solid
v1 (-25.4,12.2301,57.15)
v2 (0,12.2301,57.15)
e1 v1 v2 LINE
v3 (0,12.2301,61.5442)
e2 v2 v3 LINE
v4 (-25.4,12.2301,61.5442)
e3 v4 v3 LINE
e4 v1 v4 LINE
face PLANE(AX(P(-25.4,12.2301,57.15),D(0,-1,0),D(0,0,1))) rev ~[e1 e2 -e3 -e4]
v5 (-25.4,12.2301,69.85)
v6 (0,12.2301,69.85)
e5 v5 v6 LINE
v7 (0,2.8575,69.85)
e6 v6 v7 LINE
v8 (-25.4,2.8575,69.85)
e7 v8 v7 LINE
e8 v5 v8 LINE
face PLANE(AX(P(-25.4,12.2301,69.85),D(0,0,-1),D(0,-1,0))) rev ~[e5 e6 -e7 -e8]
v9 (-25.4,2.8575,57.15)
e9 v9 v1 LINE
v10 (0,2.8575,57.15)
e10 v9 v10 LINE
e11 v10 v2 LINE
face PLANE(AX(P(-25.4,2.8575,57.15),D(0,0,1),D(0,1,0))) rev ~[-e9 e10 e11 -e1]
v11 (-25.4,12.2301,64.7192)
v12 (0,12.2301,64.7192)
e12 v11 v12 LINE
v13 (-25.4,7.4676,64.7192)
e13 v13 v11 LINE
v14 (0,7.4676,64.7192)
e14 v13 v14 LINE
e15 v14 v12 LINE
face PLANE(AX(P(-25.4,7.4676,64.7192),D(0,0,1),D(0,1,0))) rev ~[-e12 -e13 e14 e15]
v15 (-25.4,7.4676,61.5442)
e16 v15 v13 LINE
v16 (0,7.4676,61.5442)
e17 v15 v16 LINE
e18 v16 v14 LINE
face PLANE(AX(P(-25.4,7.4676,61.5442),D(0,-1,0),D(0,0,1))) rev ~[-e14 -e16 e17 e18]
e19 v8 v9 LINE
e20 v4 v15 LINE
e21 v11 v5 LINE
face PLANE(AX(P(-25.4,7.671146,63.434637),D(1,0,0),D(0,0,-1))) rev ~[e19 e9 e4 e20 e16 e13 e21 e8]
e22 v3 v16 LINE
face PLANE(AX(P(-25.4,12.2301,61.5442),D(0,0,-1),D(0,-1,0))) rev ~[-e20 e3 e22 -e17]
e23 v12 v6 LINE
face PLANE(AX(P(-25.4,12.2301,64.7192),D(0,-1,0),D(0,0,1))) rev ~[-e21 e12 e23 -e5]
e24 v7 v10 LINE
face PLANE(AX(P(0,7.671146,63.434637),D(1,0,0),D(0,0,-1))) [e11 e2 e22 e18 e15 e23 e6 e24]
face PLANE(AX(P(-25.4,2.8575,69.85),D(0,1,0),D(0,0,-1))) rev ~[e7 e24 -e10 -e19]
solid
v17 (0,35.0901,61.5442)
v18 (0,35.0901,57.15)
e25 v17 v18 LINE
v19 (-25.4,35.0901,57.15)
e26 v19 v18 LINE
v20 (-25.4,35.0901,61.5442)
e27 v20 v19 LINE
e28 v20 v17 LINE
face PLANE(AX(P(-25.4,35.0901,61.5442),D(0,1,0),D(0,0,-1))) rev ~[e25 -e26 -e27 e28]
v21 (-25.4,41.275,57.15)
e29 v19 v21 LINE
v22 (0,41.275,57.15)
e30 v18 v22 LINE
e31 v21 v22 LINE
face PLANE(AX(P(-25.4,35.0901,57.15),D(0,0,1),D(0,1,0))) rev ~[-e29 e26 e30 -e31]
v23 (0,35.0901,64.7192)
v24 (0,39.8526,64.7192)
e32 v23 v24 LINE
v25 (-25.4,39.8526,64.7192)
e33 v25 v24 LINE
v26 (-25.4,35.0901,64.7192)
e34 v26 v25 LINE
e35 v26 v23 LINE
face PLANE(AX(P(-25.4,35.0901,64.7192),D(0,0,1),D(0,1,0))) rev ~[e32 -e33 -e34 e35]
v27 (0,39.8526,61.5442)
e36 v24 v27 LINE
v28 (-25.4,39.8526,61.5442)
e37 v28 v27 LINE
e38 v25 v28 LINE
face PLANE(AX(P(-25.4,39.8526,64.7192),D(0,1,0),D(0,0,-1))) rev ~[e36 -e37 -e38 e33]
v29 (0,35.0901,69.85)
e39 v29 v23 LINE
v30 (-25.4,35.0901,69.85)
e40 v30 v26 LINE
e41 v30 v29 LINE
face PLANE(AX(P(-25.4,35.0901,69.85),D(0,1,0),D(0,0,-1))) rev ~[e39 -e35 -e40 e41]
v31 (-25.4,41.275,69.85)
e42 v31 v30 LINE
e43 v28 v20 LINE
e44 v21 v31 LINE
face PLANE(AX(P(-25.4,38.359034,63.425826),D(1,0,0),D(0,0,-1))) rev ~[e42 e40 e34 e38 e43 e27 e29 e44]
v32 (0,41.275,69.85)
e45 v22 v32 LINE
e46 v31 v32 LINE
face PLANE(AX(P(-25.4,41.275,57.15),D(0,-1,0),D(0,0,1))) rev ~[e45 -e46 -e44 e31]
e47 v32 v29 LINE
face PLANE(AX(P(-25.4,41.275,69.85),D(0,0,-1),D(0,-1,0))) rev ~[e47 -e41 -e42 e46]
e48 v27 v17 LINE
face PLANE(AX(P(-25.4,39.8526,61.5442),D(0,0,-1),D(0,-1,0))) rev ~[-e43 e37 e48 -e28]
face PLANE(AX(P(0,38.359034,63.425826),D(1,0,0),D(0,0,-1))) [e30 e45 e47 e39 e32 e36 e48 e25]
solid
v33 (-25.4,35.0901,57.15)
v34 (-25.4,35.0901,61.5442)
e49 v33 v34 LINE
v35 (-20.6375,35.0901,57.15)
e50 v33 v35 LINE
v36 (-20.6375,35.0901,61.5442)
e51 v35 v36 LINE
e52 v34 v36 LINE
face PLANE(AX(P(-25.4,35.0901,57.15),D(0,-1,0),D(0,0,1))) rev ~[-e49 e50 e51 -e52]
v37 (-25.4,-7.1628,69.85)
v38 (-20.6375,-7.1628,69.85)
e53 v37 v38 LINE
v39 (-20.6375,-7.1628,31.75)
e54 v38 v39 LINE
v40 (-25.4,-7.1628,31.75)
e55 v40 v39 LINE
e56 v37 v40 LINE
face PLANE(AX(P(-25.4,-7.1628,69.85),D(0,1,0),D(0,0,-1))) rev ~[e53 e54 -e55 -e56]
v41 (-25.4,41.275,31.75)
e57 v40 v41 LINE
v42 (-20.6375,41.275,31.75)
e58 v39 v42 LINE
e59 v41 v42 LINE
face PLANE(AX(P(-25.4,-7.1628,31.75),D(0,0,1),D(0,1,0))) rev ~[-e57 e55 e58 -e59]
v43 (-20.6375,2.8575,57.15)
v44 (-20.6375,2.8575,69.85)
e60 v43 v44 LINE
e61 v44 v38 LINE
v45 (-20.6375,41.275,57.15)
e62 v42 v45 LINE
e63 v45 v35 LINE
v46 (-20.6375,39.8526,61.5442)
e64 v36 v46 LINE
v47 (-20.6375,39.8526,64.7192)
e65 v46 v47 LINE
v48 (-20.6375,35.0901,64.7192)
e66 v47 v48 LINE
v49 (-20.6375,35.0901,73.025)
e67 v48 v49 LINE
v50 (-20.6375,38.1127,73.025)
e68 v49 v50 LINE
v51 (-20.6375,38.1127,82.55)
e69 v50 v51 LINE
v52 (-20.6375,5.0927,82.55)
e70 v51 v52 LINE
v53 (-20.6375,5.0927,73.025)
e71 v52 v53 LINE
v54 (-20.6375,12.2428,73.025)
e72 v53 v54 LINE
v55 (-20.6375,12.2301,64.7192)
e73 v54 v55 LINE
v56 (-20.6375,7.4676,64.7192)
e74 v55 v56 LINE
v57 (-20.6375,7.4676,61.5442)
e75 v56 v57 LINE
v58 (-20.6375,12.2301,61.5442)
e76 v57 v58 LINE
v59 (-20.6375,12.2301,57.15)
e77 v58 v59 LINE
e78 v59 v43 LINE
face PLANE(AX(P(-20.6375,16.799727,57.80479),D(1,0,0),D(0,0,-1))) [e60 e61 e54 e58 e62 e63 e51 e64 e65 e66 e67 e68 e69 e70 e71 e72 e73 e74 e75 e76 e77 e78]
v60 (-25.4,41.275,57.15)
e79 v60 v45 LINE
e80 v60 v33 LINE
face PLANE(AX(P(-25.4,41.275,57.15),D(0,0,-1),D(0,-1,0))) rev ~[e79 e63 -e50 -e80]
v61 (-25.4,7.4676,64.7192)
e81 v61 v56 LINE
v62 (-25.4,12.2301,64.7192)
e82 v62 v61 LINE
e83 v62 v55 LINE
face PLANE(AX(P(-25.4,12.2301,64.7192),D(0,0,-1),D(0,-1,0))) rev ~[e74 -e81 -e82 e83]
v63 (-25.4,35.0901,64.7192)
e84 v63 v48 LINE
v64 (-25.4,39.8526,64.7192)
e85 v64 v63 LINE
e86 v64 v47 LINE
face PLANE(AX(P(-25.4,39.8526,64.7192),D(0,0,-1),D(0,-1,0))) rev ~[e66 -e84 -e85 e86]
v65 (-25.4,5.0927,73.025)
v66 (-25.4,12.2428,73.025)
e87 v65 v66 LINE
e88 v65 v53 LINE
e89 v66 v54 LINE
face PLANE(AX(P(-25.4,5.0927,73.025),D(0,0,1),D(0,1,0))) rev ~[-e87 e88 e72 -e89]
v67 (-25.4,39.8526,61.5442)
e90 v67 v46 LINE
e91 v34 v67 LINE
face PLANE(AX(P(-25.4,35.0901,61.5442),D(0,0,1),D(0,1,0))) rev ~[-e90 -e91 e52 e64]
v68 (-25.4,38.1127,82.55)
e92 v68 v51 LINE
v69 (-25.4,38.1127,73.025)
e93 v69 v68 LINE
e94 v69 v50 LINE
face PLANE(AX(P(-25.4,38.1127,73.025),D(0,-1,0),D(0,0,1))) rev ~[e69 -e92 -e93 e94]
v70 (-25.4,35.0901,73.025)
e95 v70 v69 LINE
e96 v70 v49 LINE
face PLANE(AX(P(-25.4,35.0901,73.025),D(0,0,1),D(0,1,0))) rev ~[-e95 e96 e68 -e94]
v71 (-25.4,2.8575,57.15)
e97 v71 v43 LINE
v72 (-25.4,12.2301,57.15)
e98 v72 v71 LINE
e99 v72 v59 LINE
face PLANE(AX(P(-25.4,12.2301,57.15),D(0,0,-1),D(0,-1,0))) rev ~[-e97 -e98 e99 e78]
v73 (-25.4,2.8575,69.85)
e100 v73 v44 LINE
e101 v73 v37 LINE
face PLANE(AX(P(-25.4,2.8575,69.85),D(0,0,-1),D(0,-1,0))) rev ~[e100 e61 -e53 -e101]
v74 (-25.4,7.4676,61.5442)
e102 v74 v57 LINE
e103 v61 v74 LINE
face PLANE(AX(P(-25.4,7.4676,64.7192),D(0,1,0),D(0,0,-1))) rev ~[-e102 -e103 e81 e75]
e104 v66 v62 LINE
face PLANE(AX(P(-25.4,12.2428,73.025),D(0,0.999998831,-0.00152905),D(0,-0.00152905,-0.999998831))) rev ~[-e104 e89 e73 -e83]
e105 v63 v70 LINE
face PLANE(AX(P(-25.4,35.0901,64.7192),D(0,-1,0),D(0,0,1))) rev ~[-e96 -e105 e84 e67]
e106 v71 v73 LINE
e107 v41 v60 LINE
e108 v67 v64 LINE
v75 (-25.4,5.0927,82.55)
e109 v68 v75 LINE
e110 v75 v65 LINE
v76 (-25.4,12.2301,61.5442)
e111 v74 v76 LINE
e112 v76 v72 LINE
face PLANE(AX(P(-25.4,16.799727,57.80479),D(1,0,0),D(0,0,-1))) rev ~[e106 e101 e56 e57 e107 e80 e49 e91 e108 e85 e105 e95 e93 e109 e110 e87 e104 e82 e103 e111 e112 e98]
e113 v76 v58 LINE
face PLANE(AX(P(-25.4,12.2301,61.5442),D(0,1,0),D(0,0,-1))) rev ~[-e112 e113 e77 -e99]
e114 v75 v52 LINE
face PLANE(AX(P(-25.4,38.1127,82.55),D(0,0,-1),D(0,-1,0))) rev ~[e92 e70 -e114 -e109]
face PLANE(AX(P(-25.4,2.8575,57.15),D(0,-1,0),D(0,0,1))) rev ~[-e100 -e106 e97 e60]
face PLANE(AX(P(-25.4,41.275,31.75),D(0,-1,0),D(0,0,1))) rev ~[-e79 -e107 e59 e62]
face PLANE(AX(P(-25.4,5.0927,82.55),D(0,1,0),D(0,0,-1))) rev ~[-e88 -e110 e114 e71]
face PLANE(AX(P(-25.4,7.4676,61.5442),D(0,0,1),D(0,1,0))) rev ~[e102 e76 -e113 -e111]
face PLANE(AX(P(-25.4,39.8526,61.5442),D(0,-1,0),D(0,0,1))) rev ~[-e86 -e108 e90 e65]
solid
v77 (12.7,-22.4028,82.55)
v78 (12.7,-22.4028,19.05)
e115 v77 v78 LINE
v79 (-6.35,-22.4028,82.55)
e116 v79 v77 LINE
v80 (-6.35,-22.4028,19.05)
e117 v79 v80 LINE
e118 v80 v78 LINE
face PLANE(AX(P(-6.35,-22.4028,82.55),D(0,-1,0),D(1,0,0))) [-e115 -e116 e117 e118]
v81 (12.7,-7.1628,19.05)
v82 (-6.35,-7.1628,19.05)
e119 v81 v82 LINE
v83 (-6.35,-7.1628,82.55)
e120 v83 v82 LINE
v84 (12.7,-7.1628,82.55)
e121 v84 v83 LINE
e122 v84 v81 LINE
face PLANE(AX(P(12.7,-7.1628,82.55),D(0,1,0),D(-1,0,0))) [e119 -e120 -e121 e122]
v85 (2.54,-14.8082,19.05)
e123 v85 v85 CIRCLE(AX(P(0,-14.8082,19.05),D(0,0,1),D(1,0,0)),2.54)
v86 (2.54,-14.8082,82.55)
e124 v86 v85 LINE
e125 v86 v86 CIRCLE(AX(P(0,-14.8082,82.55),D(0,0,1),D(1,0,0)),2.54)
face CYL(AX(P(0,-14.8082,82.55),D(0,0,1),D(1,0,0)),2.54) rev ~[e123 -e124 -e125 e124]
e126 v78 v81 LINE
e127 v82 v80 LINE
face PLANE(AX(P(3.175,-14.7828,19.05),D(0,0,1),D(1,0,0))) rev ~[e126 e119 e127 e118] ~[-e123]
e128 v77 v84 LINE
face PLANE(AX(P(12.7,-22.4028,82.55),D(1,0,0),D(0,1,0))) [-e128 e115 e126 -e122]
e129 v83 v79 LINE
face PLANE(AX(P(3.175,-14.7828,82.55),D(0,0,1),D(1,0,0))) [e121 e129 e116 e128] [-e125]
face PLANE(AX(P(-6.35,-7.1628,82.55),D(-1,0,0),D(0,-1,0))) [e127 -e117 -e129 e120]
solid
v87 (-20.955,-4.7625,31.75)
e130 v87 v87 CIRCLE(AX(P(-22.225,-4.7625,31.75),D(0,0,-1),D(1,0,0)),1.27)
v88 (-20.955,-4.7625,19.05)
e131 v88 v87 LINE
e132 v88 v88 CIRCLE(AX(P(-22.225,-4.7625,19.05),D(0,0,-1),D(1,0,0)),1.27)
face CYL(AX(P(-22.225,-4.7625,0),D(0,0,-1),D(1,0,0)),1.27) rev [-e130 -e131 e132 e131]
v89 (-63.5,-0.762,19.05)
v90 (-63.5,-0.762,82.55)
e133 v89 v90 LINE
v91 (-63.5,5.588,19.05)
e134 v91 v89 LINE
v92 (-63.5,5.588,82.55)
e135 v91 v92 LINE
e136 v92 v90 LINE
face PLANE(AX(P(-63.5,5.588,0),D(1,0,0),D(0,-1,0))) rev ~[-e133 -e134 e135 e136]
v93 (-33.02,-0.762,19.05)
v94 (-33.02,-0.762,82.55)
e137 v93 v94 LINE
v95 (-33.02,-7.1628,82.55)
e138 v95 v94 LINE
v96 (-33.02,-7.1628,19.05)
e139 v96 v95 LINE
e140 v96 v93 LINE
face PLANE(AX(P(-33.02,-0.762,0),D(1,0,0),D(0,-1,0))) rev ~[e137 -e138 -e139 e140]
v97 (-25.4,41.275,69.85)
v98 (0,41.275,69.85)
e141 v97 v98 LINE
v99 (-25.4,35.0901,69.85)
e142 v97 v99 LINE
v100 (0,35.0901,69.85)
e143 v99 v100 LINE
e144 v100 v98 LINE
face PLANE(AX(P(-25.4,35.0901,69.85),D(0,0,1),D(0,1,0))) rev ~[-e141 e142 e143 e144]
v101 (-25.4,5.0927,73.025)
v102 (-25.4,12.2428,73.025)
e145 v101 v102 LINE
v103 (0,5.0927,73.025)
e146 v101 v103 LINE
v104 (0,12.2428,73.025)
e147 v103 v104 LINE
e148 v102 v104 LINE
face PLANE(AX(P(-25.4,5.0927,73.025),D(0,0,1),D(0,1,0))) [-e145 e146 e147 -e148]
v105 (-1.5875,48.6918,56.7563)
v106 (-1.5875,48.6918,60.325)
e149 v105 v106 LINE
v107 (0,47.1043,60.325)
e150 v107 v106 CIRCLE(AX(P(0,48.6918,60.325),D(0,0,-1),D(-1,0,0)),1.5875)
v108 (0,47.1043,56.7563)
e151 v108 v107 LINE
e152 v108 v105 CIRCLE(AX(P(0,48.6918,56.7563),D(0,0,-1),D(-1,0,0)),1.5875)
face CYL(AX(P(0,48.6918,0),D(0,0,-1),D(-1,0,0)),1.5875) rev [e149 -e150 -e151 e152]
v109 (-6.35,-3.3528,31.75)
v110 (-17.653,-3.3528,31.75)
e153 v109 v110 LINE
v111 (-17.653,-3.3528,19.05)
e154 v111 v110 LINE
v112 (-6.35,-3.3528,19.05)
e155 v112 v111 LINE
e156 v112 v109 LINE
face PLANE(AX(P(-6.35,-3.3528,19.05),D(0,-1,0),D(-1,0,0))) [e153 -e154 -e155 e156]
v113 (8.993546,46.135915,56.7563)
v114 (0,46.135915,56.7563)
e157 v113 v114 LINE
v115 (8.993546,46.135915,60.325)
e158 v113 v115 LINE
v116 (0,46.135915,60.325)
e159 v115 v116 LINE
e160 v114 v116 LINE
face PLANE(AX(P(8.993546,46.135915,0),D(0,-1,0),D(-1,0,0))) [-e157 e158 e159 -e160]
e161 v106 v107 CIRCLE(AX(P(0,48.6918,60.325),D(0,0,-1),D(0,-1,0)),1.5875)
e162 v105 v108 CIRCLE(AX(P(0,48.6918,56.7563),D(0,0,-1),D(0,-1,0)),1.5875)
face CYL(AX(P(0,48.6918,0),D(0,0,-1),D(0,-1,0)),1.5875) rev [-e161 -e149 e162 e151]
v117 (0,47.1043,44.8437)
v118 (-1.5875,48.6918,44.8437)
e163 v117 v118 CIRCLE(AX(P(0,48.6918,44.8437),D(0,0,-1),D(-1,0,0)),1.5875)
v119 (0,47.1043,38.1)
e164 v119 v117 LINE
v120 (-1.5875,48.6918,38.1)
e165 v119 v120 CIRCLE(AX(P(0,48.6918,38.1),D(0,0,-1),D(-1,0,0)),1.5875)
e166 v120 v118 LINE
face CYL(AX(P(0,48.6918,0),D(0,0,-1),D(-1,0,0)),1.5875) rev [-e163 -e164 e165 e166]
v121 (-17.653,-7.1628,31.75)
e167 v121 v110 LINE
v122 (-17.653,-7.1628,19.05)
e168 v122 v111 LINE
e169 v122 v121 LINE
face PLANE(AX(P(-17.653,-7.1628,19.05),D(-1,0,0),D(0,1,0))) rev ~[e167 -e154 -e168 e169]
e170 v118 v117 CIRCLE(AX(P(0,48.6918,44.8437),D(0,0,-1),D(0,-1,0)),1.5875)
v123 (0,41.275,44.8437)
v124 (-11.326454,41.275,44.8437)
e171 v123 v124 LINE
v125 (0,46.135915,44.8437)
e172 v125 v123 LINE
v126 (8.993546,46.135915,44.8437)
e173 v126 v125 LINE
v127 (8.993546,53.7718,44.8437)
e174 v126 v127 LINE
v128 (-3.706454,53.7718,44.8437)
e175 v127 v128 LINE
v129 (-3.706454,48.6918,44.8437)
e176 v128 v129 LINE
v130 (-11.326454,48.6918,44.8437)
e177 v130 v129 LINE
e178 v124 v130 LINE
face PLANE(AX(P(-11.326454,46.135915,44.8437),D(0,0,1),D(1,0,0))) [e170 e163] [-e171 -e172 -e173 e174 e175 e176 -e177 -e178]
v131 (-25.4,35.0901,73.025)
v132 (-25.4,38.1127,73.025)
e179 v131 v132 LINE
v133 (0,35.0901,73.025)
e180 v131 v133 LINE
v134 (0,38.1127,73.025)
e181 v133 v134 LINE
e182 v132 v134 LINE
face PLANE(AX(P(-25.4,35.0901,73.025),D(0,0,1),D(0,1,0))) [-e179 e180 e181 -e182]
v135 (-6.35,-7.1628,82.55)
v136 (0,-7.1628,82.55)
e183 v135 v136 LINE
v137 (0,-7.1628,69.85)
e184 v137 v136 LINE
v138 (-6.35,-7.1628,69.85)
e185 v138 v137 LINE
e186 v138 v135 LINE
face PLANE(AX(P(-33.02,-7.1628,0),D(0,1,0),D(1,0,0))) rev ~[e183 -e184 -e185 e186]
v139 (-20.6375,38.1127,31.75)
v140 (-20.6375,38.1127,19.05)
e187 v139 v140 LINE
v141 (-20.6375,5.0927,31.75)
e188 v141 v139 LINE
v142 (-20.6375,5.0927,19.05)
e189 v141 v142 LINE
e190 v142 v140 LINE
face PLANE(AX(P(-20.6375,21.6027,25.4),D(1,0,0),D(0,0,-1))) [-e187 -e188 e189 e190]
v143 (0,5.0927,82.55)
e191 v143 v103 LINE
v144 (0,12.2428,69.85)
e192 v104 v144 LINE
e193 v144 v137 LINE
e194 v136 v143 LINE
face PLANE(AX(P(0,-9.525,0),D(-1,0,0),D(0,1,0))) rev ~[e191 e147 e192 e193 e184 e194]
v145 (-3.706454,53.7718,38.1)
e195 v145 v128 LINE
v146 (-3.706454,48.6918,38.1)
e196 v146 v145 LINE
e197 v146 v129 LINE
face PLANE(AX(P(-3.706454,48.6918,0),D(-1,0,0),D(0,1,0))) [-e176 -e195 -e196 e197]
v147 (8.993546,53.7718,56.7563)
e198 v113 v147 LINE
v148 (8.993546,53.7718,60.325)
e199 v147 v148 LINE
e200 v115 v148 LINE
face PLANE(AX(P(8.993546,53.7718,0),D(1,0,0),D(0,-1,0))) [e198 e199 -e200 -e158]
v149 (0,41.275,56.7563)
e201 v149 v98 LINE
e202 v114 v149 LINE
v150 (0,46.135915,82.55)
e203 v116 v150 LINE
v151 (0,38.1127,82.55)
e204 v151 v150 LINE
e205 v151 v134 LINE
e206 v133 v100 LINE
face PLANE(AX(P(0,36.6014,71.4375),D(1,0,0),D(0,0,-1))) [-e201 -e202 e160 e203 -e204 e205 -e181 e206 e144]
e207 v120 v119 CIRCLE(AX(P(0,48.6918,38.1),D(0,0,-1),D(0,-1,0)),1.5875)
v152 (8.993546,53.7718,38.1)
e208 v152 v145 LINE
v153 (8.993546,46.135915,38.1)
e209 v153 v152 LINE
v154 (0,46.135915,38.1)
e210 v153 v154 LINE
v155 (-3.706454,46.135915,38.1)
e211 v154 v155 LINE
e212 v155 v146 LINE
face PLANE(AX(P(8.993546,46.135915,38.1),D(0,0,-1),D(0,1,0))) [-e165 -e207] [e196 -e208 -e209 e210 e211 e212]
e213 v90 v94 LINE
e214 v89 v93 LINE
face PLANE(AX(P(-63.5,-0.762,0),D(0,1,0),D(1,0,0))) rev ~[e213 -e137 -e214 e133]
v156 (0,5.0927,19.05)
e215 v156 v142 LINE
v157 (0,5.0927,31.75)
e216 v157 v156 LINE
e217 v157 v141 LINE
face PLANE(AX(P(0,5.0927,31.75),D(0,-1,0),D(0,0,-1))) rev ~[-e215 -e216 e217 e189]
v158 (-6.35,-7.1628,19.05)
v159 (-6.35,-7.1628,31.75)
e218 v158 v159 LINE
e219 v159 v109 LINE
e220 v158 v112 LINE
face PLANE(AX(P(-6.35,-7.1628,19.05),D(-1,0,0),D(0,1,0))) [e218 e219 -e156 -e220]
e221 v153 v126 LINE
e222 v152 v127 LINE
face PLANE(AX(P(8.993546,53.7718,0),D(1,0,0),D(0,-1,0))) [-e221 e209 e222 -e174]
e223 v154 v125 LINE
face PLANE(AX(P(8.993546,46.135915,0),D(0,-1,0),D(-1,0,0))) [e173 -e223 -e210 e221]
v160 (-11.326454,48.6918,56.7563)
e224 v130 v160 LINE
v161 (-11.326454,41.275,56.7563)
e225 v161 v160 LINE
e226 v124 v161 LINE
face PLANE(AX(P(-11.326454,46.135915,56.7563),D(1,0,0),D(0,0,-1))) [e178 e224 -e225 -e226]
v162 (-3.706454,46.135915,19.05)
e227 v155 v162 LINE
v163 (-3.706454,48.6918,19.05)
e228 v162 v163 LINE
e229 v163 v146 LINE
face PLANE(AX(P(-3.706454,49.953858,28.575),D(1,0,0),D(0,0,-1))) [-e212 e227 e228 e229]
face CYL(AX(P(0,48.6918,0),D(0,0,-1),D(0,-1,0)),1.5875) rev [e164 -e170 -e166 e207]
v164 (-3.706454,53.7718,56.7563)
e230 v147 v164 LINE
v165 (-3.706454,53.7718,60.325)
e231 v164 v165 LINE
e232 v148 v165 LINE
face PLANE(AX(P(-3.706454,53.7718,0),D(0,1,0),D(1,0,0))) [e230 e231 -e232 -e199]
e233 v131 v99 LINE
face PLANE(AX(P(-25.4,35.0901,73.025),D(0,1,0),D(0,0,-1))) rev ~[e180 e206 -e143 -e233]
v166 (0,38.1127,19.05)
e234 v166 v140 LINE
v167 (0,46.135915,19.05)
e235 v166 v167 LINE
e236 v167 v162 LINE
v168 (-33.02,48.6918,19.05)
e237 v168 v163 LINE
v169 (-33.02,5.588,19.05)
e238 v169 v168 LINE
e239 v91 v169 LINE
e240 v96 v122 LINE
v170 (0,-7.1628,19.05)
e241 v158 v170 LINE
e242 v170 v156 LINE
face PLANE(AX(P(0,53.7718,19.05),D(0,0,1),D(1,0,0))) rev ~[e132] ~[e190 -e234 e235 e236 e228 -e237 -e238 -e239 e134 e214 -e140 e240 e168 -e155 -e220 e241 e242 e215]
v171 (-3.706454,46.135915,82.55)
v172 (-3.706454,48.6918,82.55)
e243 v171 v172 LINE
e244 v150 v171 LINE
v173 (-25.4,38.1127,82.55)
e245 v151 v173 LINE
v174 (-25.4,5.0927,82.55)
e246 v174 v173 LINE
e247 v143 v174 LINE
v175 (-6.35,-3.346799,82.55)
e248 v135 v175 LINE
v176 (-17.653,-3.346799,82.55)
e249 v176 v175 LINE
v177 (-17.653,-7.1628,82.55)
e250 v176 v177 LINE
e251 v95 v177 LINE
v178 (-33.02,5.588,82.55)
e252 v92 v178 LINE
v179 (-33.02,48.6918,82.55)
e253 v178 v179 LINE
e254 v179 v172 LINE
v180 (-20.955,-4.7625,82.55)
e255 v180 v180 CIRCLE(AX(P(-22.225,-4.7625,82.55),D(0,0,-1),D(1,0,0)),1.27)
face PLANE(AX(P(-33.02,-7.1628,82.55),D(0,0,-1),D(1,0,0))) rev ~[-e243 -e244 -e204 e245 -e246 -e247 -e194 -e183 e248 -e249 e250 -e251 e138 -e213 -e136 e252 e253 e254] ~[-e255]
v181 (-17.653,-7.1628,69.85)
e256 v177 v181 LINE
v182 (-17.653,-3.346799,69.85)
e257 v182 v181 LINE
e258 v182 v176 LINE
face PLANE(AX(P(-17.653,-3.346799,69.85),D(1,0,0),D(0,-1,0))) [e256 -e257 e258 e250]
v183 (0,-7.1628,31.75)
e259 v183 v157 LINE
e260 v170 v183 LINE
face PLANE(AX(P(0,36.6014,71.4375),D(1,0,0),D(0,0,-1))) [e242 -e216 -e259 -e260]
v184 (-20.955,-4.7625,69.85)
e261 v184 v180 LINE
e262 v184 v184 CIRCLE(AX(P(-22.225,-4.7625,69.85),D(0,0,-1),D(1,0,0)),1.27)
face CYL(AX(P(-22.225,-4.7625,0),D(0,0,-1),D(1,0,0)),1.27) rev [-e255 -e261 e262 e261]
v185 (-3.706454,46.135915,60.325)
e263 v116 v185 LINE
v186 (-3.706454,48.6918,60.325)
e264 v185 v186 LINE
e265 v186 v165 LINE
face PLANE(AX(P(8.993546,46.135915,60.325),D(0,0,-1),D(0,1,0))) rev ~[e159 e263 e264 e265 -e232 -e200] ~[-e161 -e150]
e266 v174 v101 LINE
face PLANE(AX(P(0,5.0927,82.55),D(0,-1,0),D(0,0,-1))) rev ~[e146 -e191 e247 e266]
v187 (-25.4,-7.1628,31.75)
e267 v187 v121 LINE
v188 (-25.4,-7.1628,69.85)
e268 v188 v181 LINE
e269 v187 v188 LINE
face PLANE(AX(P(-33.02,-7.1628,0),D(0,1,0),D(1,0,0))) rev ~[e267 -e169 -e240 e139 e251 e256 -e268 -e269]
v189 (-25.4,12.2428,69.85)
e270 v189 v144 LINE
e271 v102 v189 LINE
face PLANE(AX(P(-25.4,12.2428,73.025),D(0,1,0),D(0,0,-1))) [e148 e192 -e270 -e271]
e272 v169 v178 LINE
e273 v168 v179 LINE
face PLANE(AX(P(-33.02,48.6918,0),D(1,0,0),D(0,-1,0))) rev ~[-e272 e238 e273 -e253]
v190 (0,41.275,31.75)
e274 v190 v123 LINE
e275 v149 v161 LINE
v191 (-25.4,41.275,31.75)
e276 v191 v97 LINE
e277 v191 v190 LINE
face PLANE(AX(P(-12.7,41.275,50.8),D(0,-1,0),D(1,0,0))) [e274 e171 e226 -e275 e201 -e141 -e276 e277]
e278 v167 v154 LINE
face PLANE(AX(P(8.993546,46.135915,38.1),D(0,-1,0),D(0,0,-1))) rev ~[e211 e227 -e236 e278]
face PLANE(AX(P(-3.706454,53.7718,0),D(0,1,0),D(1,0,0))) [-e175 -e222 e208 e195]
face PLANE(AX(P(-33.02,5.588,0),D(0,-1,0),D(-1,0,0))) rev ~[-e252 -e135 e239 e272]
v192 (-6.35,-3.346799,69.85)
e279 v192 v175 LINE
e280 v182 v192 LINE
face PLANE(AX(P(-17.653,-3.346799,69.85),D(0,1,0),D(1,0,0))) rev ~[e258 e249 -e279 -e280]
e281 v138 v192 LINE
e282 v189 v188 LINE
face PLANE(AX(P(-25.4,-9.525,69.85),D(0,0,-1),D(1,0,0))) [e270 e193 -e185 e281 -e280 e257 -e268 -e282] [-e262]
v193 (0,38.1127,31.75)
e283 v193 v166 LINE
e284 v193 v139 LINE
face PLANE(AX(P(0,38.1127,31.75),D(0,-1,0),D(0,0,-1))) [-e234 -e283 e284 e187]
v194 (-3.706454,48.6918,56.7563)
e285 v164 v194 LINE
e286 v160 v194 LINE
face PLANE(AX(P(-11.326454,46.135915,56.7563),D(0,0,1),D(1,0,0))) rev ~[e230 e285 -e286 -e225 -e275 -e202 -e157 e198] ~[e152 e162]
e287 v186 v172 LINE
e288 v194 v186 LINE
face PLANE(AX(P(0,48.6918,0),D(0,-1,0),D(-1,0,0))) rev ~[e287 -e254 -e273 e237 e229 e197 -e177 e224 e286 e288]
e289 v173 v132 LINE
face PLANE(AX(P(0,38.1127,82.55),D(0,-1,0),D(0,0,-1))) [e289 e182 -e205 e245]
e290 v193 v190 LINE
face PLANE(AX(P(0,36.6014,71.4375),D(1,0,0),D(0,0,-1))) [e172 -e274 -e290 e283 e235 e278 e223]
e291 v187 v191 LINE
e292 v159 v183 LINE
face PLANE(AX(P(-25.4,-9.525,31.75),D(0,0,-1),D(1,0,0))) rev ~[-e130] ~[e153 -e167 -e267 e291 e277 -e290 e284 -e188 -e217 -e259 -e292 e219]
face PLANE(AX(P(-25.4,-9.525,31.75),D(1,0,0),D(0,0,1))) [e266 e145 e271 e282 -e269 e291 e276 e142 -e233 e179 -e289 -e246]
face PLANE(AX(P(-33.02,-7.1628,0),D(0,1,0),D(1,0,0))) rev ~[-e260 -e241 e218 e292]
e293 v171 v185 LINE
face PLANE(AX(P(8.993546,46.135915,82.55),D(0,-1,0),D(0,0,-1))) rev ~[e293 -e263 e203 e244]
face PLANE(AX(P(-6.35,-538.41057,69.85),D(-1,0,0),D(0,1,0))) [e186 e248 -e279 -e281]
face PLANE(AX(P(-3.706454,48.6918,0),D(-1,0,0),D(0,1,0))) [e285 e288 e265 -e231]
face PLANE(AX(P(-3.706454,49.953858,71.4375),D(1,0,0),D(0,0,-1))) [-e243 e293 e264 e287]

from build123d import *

# Parameters (mm, degrees)
SKETCH8_R                = 1.27
BOSS_EXTRUDE3_DEPTH      = 101.6
SKETCH40_W               = 25.4
SKETCH40_H               = 38.1
CUT_EXTRUDE24_DEPTH      = 50.8
CUT_EXTRUDE11_DEPTH      = 130.327883255
CUT_EXTRUDE11_DEPTH_BACK = 101.6
SKETCH18_W               = 33.02
SKETCH18_H               = 2.3622
BOSS_EXTRUDE4_DEPTH      = 101.6
CUT_EXTRUDE12_START      = -101.6
SKETCH20_R               = 1.5875
CUT_EXTRUDE12_DEPTH      = 101.6
SKETCH21_W               = 33.02
SKETCH21_H               = 19.05
CUT_EXTRUDE13_DEPTH      = 135.416648809
SKETCH24_W               = 8.993546066
SKETCH24_H               = 19.05
CUT_EXTRUDE15_DEPTH      = 135.416648809
SKETCH38_W               = 11.9126
SKETCH38_H               = 7.635884817
CUT_EXTRUDE21_DEPTH      = 20.32
SKETCH41_W               = 30.48
SKETCH41_H               = 19.05
CUT_EXTRUDE25_DEPTH      = 130.137479387
SKETCH43_W               = 12.7
SKETCH43_H               = 33.02
CUT_EXTRUDE26_DEPTH      = 25.4
SKETCH44_W               = 3.175
SKETCH44_H               = 3.0226
SKETCH44_H_2             = 7.1501
BOSS_EXTRUDE5_DEPTH      = 25.4
BOSS_EXTRUDE6_DEPTH      = 25.4
BOSS_EXTRUDE6_2_DEPTH    = 25.4
SKETCH46_R               = 2.54
BOSS_EXTRUDE7_DEPTH      = 63.5
CUT_EXTRUDE29_DEPTH      = 105.670466108
CUT_EXTRUDE29_DEPTH_BACK = 12.7
SKETCH49_W               = 11.303
SKETCH49_H               = 3.81
CUT_EXTRUDE31_DEPTH      = 12.7
SKETCH50_W               = 11.326453934
SKETCH50_H               = 11.9126
CUT_EXTRUDE33_DEPTH      = 4.8768
BOSS_EXTRUDE8_DEPTH      = 4.7625
SKETCH53_W               = 22.225
SKETCH53_H               = 7.635884817
CUT_EXTRUDE34_DEPTH      = 12.7
SKETCH54_W               = 19.05
SKETCH54_H               = 7.635884817
CUT_EXTRUDE35_DEPTH      = 12.7
SKETCH56_W               = 12.7
SKETCH56_H               = 33.02
CUT_EXTRUDE36_DEPTH      = 20.6375


with BuildPart() as part:
    # Sketch8 → Boss-Extrude3 (new body)
    with BuildSketch(Plane.XY):
        Polygon((0, 0), (0, 48.6918), (-33.02, 48.6918), (-33.02, 5.588), (-63.5, 5.588), (-63.5, -0.762), (-33.02, -0.762), (-33.02, -9.525), (-9.525, -9.525), (0, -9.525), align=None)
        with Locations((-15.875, 28.5877)):
            Circle(SKETCH8_R, mode=Mode.SUBTRACT)
        with Locations((-22.225, -4.7625)):
            Circle(SKETCH8_R, mode=Mode.SUBTRACT)
    extrude(amount=BOSS_EXTRUDE3_DEPTH)

    # Sketch40 → Cut-Extrude24 (cut)
    with BuildSketch(Plane.XZ.offset(9.525)):
        with Locations((-12.7, 50.8)):
            Rectangle(SKETCH40_W, SKETCH40_H)
    extrude(amount=-CUT_EXTRUDE24_DEPTH, mode=Mode.SUBTRACT)

    # Sketch18 → Cut-Extrude11 (cut, two sides: drawn at the far end of the back side and taken through both)
    with BuildSketch(Plane.XY.offset(101.6).offset(-CUT_EXTRUDE11_DEPTH_BACK)):
        with Locations((-16.51, -8.3439)):
            Rectangle(SKETCH18_W, SKETCH18_H)
    extrude(amount=CUT_EXTRUDE11_DEPTH + CUT_EXTRUDE11_DEPTH_BACK, mode=Mode.SUBTRACT)

    # Sketch19 → Boss-Extrude4 (add)
    with BuildSketch(Plane(origin=(0, 0, 0), x_dir=(-1, 0, 0), z_dir=(0, 0, -1))):
        with BuildLine():
            Line((1.5875, 48.6918), (3.706453934, 48.6918))
            Line((3.706453934, 48.6918), (3.706453934, 53.7718))
            Line((3.706453934, 53.7718), (-8.993546066, 53.7718))
            Line((-8.993546066, 53.7718), (-8.993546066, 46.135915183))
            Line((-8.993546066, 46.135915183), (0, 46.135915183))
            Line((0, 46.135915183), (0, 47.1043))
            ThreePointArc((0, 47.1043), (-1.122532015, 49.814332015), (1.5875, 48.6918))
        make_face()
    extrude(amount=-BOSS_EXTRUDE4_DEPTH)

    # Sketch20 → Cut-Extrude12 (cut)
    with BuildSketch(Plane.XY.offset(101.6).offset(CUT_EXTRUDE12_START)):
        with Locations(Location((0, 48.6918, 0), (0, 0, 180))):
            Circle(SKETCH20_R)
    extrude(amount=CUT_EXTRUDE12_DEPTH, mode=Mode.SUBTRACT)

    # Sketch21 → Cut-Extrude13 (cut, through all)
    with BuildSketch(Plane.XZ.offset(7.1628)):
        with Locations((-16.51, 92.075)):
            Rectangle(SKETCH21_W, SKETCH21_H)
        with Locations((-16.51, 9.525)):
            Rectangle(SKETCH21_W, SKETCH21_H)
    extrude(amount=-CUT_EXTRUDE13_DEPTH, mode=Mode.SUBTRACT)

    # Sketch24 → Cut-Extrude15 (cut, through all)
    with BuildSketch(Plane(origin=(0, 53.7718, 0), x_dir=(1, 0, 0), z_dir=(0, 1, 0))):
        with Locations((4.496773033, -92.075)):
            Rectangle(SKETCH24_W, SKETCH24_H)
        with Locations((4.496773033, -9.525)):
            Rectangle(SKETCH24_W, SKETCH24_H)
    extrude(amount=-CUT_EXTRUDE15_DEPTH, mode=Mode.SUBTRACT)

    # Sketch38 → Cut-Extrude21 (cut)
    with BuildSketch(Plane(origin=(8.993546066, 0, 0), x_dir=(0, 0, -1), z_dir=(1, 0, 0))):
        with Locations((-50.8, 49.953857592)):
            Rectangle(SKETCH38_W, SKETCH38_H)
    extrude(amount=-CUT_EXTRUDE21_DEPTH, mode=Mode.SUBTRACT)

    # Sketch41 → Cut-Extrude25 (cut, through all)
    with BuildSketch(Plane(origin=(0, 5.588, 0), x_dir=(1, 0, 0), z_dir=(0, 1, 0))):
        with Locations((-48.26, -9.525)):
            Rectangle(SKETCH41_W, SKETCH41_H)
        with Locations((-48.26, -92.075)):
            Rectangle(SKETCH41_W, SKETCH41_H)
    extrude(amount=-CUT_EXTRUDE25_DEPTH, mode=Mode.SUBTRACT)

    # Sketch43 → Cut-Extrude26 (cut)
    with BuildSketch(Plane(origin=(0, 0, 0), x_dir=(0, 0, -1), z_dir=(1, 0, 0))):
        with Locations((-76.2, 21.6027)):
            Rectangle(SKETCH43_W, SKETCH43_H)
    extrude(amount=-CUT_EXTRUDE26_DEPTH, mode=Mode.SUBTRACT)

    # Sketch44 → Boss-Extrude5 (add)
    with BuildSketch(Plane(origin=(-25.4, 0, 0), x_dir=(0, 0, -1), z_dir=(1, 0, 0))):
        with Locations((-71.4375, 36.6014)):
            Rectangle(SKETCH44_W, SKETCH44_H)
        with Locations((-71.4375, 8.66775)):
            Rectangle(SKETCH44_W, SKETCH44_H_2)
    extrude(amount=BOSS_EXTRUDE5_DEPTH)

    # Sketch48 → Cut-Extrude29 (cut, two sides: drawn at the far end of the back side and taken through both)
    with BuildSketch(Plane.XY.offset(82.55).offset(-CUT_EXTRUDE29_DEPTH_BACK)):
        Polygon((-17.653, -184.245390082), (-17.653, -7.1628), (-17.653, -3.346799078), (-6.35, -3.346799078), (-6.35, -7.1628), (-6.35, -184.245390082), (-6.35, -538.410570247), (-17.653, -538.410570247), align=None)
    extrude(amount=CUT_EXTRUDE29_DEPTH + CUT_EXTRUDE29_DEPTH_BACK, mode=Mode.SUBTRACT)

    # Sketch49 → Cut-Extrude31 (cut)
    with BuildSketch(Plane(origin=(0, 0, 19.05), x_dir=(-1, 0, 0), z_dir=(0, 0, -1))):
        with Locations((12.0015, -5.2578)):
            Rectangle(SKETCH49_W, SKETCH49_H)
    extrude(amount=-CUT_EXTRUDE31_DEPTH, mode=Mode.SUBTRACT)

    # Sketch50 → Cut-Extrude33 (cut)
    with BuildSketch(Plane(origin=(0, 46.135915183, 0), x_dir=(1, 0, 0), z_dir=(0, 1, 0))):
        with Locations((-5.663226967, -50.8)):
            Rectangle(SKETCH50_W, SKETCH50_H)
    extrude(amount=-CUT_EXTRUDE33_DEPTH, mode=Mode.SUBTRACT)

    # Sketch53 → Cut-Extrude34 (cut)
    with BuildSketch(Plane(origin=(8.993546066, 0, 0), x_dir=(0, 0, -1), z_dir=(1, 0, 0))):
        with Locations((-71.4375, 49.953857592)):
            Rectangle(SKETCH53_W, SKETCH53_H)
    extrude(amount=-CUT_EXTRUDE34_DEPTH, mode=Mode.SUBTRACT)

    # Sketch54 → Cut-Extrude35 (cut)
    with BuildSketch(Plane(origin=(8.993546066, 0, 0), x_dir=(0, 0, -1), z_dir=(1, 0, 0))):
        with Locations((-28.575, 49.953857592)):
            Rectangle(SKETCH54_W, SKETCH54_H)
    extrude(amount=-CUT_EXTRUDE35_DEPTH, mode=Mode.SUBTRACT)

    # Sketch56 → Cut-Extrude36 (cut)
    with BuildSketch(Plane(origin=(0, 0, 0), x_dir=(0, 0, -1), z_dir=(1, 0, 0))):
        with Locations((-25.4, 21.6027)):
            Rectangle(SKETCH56_W, SKETCH56_H)
    extrude(amount=-CUT_EXTRUDE36_DEPTH, mode=Mode.SUBTRACT)


with BuildPart() as body_2:
    # Sketch45 → Boss-Extrude6 (new body)
    with BuildSketch(Plane(origin=(-25.4, 0, 0), x_dir=(0, 0, -1), z_dir=(1, 0, 0))):
        Polygon((-57.15, 2.8575), (-57.15, 12.2301), (-61.5442, 12.2301), (-61.5442, 7.4676), (-64.7192, 7.4676), (-64.7192, 12.2301), (-69.85, 12.2301), (-69.85, 2.8575), align=None)
    extrude(amount=BOSS_EXTRUDE6_DEPTH)


with BuildPart() as body_3:
    # Sketch45 → Boss-Extrude6 2 (new body)
    with BuildSketch(Plane(origin=(-25.4, 0, 0), x_dir=(0, 0, -1), z_dir=(1, 0, 0))):
        Polygon((-57.15, 35.0901), (-57.15, 41.275), (-69.85, 41.275), (-69.85, 35.0901), (-64.7192, 35.0901), (-64.7192, 39.8526), (-61.5442, 39.8526), (-61.5442, 35.0901), align=None)
    extrude(amount=BOSS_EXTRUDE6_2_DEPTH)


with BuildPart() as body_4:
    # Sketch46 → Boss-Extrude7 (new body)
    with BuildSketch(Plane.XY.offset(82.55)):
        Polygon((12.7, -7.1628), (0, -7.1628), (-6.35, -7.1628), (-6.35, -22.4028), (12.7, -22.4028), align=None)
        with Locations((0, -14.8082)):
            Circle(SKETCH46_R, mode=Mode.SUBTRACT)
    extrude(amount=-BOSS_EXTRUDE7_DEPTH)


with BuildPart() as body_5:
    # Sketch52 → Boss-Extrude8 (new body)
    with BuildSketch(Plane(origin=(-25.4, 0, 0), x_dir=(0, 0, -1), z_dir=(1, 0, 0))):
        Polygon((-73.025, 38.1127), (-82.55, 38.1127), (-82.55, 5.0927), (-73.025, 5.0927), (-73.025, 12.2428), (-64.7192, 12.2301), (-64.7192, 7.4676), (-61.5442, 7.4676), (-61.5442, 12.2301), (-57.15, 12.2301), (-57.15, 2.8575), (-69.85, 2.8575), (-69.85, -7.1628), (-31.75, -7.1628), (-31.75, 41.275), (-57.15, 41.275), (-57.15, 35.0901), (-61.5442, 35.0901), (-61.5442, 39.8526), (-64.7192, 39.8526), (-64.7192, 35.0901), (-73.025, 35.0901), align=None)
    extrude(amount=BOSS_EXTRUDE8_DEPTH)


solid = Compound([part.part, body_2.part, body_3.part, body_4.part, body_5.part])
